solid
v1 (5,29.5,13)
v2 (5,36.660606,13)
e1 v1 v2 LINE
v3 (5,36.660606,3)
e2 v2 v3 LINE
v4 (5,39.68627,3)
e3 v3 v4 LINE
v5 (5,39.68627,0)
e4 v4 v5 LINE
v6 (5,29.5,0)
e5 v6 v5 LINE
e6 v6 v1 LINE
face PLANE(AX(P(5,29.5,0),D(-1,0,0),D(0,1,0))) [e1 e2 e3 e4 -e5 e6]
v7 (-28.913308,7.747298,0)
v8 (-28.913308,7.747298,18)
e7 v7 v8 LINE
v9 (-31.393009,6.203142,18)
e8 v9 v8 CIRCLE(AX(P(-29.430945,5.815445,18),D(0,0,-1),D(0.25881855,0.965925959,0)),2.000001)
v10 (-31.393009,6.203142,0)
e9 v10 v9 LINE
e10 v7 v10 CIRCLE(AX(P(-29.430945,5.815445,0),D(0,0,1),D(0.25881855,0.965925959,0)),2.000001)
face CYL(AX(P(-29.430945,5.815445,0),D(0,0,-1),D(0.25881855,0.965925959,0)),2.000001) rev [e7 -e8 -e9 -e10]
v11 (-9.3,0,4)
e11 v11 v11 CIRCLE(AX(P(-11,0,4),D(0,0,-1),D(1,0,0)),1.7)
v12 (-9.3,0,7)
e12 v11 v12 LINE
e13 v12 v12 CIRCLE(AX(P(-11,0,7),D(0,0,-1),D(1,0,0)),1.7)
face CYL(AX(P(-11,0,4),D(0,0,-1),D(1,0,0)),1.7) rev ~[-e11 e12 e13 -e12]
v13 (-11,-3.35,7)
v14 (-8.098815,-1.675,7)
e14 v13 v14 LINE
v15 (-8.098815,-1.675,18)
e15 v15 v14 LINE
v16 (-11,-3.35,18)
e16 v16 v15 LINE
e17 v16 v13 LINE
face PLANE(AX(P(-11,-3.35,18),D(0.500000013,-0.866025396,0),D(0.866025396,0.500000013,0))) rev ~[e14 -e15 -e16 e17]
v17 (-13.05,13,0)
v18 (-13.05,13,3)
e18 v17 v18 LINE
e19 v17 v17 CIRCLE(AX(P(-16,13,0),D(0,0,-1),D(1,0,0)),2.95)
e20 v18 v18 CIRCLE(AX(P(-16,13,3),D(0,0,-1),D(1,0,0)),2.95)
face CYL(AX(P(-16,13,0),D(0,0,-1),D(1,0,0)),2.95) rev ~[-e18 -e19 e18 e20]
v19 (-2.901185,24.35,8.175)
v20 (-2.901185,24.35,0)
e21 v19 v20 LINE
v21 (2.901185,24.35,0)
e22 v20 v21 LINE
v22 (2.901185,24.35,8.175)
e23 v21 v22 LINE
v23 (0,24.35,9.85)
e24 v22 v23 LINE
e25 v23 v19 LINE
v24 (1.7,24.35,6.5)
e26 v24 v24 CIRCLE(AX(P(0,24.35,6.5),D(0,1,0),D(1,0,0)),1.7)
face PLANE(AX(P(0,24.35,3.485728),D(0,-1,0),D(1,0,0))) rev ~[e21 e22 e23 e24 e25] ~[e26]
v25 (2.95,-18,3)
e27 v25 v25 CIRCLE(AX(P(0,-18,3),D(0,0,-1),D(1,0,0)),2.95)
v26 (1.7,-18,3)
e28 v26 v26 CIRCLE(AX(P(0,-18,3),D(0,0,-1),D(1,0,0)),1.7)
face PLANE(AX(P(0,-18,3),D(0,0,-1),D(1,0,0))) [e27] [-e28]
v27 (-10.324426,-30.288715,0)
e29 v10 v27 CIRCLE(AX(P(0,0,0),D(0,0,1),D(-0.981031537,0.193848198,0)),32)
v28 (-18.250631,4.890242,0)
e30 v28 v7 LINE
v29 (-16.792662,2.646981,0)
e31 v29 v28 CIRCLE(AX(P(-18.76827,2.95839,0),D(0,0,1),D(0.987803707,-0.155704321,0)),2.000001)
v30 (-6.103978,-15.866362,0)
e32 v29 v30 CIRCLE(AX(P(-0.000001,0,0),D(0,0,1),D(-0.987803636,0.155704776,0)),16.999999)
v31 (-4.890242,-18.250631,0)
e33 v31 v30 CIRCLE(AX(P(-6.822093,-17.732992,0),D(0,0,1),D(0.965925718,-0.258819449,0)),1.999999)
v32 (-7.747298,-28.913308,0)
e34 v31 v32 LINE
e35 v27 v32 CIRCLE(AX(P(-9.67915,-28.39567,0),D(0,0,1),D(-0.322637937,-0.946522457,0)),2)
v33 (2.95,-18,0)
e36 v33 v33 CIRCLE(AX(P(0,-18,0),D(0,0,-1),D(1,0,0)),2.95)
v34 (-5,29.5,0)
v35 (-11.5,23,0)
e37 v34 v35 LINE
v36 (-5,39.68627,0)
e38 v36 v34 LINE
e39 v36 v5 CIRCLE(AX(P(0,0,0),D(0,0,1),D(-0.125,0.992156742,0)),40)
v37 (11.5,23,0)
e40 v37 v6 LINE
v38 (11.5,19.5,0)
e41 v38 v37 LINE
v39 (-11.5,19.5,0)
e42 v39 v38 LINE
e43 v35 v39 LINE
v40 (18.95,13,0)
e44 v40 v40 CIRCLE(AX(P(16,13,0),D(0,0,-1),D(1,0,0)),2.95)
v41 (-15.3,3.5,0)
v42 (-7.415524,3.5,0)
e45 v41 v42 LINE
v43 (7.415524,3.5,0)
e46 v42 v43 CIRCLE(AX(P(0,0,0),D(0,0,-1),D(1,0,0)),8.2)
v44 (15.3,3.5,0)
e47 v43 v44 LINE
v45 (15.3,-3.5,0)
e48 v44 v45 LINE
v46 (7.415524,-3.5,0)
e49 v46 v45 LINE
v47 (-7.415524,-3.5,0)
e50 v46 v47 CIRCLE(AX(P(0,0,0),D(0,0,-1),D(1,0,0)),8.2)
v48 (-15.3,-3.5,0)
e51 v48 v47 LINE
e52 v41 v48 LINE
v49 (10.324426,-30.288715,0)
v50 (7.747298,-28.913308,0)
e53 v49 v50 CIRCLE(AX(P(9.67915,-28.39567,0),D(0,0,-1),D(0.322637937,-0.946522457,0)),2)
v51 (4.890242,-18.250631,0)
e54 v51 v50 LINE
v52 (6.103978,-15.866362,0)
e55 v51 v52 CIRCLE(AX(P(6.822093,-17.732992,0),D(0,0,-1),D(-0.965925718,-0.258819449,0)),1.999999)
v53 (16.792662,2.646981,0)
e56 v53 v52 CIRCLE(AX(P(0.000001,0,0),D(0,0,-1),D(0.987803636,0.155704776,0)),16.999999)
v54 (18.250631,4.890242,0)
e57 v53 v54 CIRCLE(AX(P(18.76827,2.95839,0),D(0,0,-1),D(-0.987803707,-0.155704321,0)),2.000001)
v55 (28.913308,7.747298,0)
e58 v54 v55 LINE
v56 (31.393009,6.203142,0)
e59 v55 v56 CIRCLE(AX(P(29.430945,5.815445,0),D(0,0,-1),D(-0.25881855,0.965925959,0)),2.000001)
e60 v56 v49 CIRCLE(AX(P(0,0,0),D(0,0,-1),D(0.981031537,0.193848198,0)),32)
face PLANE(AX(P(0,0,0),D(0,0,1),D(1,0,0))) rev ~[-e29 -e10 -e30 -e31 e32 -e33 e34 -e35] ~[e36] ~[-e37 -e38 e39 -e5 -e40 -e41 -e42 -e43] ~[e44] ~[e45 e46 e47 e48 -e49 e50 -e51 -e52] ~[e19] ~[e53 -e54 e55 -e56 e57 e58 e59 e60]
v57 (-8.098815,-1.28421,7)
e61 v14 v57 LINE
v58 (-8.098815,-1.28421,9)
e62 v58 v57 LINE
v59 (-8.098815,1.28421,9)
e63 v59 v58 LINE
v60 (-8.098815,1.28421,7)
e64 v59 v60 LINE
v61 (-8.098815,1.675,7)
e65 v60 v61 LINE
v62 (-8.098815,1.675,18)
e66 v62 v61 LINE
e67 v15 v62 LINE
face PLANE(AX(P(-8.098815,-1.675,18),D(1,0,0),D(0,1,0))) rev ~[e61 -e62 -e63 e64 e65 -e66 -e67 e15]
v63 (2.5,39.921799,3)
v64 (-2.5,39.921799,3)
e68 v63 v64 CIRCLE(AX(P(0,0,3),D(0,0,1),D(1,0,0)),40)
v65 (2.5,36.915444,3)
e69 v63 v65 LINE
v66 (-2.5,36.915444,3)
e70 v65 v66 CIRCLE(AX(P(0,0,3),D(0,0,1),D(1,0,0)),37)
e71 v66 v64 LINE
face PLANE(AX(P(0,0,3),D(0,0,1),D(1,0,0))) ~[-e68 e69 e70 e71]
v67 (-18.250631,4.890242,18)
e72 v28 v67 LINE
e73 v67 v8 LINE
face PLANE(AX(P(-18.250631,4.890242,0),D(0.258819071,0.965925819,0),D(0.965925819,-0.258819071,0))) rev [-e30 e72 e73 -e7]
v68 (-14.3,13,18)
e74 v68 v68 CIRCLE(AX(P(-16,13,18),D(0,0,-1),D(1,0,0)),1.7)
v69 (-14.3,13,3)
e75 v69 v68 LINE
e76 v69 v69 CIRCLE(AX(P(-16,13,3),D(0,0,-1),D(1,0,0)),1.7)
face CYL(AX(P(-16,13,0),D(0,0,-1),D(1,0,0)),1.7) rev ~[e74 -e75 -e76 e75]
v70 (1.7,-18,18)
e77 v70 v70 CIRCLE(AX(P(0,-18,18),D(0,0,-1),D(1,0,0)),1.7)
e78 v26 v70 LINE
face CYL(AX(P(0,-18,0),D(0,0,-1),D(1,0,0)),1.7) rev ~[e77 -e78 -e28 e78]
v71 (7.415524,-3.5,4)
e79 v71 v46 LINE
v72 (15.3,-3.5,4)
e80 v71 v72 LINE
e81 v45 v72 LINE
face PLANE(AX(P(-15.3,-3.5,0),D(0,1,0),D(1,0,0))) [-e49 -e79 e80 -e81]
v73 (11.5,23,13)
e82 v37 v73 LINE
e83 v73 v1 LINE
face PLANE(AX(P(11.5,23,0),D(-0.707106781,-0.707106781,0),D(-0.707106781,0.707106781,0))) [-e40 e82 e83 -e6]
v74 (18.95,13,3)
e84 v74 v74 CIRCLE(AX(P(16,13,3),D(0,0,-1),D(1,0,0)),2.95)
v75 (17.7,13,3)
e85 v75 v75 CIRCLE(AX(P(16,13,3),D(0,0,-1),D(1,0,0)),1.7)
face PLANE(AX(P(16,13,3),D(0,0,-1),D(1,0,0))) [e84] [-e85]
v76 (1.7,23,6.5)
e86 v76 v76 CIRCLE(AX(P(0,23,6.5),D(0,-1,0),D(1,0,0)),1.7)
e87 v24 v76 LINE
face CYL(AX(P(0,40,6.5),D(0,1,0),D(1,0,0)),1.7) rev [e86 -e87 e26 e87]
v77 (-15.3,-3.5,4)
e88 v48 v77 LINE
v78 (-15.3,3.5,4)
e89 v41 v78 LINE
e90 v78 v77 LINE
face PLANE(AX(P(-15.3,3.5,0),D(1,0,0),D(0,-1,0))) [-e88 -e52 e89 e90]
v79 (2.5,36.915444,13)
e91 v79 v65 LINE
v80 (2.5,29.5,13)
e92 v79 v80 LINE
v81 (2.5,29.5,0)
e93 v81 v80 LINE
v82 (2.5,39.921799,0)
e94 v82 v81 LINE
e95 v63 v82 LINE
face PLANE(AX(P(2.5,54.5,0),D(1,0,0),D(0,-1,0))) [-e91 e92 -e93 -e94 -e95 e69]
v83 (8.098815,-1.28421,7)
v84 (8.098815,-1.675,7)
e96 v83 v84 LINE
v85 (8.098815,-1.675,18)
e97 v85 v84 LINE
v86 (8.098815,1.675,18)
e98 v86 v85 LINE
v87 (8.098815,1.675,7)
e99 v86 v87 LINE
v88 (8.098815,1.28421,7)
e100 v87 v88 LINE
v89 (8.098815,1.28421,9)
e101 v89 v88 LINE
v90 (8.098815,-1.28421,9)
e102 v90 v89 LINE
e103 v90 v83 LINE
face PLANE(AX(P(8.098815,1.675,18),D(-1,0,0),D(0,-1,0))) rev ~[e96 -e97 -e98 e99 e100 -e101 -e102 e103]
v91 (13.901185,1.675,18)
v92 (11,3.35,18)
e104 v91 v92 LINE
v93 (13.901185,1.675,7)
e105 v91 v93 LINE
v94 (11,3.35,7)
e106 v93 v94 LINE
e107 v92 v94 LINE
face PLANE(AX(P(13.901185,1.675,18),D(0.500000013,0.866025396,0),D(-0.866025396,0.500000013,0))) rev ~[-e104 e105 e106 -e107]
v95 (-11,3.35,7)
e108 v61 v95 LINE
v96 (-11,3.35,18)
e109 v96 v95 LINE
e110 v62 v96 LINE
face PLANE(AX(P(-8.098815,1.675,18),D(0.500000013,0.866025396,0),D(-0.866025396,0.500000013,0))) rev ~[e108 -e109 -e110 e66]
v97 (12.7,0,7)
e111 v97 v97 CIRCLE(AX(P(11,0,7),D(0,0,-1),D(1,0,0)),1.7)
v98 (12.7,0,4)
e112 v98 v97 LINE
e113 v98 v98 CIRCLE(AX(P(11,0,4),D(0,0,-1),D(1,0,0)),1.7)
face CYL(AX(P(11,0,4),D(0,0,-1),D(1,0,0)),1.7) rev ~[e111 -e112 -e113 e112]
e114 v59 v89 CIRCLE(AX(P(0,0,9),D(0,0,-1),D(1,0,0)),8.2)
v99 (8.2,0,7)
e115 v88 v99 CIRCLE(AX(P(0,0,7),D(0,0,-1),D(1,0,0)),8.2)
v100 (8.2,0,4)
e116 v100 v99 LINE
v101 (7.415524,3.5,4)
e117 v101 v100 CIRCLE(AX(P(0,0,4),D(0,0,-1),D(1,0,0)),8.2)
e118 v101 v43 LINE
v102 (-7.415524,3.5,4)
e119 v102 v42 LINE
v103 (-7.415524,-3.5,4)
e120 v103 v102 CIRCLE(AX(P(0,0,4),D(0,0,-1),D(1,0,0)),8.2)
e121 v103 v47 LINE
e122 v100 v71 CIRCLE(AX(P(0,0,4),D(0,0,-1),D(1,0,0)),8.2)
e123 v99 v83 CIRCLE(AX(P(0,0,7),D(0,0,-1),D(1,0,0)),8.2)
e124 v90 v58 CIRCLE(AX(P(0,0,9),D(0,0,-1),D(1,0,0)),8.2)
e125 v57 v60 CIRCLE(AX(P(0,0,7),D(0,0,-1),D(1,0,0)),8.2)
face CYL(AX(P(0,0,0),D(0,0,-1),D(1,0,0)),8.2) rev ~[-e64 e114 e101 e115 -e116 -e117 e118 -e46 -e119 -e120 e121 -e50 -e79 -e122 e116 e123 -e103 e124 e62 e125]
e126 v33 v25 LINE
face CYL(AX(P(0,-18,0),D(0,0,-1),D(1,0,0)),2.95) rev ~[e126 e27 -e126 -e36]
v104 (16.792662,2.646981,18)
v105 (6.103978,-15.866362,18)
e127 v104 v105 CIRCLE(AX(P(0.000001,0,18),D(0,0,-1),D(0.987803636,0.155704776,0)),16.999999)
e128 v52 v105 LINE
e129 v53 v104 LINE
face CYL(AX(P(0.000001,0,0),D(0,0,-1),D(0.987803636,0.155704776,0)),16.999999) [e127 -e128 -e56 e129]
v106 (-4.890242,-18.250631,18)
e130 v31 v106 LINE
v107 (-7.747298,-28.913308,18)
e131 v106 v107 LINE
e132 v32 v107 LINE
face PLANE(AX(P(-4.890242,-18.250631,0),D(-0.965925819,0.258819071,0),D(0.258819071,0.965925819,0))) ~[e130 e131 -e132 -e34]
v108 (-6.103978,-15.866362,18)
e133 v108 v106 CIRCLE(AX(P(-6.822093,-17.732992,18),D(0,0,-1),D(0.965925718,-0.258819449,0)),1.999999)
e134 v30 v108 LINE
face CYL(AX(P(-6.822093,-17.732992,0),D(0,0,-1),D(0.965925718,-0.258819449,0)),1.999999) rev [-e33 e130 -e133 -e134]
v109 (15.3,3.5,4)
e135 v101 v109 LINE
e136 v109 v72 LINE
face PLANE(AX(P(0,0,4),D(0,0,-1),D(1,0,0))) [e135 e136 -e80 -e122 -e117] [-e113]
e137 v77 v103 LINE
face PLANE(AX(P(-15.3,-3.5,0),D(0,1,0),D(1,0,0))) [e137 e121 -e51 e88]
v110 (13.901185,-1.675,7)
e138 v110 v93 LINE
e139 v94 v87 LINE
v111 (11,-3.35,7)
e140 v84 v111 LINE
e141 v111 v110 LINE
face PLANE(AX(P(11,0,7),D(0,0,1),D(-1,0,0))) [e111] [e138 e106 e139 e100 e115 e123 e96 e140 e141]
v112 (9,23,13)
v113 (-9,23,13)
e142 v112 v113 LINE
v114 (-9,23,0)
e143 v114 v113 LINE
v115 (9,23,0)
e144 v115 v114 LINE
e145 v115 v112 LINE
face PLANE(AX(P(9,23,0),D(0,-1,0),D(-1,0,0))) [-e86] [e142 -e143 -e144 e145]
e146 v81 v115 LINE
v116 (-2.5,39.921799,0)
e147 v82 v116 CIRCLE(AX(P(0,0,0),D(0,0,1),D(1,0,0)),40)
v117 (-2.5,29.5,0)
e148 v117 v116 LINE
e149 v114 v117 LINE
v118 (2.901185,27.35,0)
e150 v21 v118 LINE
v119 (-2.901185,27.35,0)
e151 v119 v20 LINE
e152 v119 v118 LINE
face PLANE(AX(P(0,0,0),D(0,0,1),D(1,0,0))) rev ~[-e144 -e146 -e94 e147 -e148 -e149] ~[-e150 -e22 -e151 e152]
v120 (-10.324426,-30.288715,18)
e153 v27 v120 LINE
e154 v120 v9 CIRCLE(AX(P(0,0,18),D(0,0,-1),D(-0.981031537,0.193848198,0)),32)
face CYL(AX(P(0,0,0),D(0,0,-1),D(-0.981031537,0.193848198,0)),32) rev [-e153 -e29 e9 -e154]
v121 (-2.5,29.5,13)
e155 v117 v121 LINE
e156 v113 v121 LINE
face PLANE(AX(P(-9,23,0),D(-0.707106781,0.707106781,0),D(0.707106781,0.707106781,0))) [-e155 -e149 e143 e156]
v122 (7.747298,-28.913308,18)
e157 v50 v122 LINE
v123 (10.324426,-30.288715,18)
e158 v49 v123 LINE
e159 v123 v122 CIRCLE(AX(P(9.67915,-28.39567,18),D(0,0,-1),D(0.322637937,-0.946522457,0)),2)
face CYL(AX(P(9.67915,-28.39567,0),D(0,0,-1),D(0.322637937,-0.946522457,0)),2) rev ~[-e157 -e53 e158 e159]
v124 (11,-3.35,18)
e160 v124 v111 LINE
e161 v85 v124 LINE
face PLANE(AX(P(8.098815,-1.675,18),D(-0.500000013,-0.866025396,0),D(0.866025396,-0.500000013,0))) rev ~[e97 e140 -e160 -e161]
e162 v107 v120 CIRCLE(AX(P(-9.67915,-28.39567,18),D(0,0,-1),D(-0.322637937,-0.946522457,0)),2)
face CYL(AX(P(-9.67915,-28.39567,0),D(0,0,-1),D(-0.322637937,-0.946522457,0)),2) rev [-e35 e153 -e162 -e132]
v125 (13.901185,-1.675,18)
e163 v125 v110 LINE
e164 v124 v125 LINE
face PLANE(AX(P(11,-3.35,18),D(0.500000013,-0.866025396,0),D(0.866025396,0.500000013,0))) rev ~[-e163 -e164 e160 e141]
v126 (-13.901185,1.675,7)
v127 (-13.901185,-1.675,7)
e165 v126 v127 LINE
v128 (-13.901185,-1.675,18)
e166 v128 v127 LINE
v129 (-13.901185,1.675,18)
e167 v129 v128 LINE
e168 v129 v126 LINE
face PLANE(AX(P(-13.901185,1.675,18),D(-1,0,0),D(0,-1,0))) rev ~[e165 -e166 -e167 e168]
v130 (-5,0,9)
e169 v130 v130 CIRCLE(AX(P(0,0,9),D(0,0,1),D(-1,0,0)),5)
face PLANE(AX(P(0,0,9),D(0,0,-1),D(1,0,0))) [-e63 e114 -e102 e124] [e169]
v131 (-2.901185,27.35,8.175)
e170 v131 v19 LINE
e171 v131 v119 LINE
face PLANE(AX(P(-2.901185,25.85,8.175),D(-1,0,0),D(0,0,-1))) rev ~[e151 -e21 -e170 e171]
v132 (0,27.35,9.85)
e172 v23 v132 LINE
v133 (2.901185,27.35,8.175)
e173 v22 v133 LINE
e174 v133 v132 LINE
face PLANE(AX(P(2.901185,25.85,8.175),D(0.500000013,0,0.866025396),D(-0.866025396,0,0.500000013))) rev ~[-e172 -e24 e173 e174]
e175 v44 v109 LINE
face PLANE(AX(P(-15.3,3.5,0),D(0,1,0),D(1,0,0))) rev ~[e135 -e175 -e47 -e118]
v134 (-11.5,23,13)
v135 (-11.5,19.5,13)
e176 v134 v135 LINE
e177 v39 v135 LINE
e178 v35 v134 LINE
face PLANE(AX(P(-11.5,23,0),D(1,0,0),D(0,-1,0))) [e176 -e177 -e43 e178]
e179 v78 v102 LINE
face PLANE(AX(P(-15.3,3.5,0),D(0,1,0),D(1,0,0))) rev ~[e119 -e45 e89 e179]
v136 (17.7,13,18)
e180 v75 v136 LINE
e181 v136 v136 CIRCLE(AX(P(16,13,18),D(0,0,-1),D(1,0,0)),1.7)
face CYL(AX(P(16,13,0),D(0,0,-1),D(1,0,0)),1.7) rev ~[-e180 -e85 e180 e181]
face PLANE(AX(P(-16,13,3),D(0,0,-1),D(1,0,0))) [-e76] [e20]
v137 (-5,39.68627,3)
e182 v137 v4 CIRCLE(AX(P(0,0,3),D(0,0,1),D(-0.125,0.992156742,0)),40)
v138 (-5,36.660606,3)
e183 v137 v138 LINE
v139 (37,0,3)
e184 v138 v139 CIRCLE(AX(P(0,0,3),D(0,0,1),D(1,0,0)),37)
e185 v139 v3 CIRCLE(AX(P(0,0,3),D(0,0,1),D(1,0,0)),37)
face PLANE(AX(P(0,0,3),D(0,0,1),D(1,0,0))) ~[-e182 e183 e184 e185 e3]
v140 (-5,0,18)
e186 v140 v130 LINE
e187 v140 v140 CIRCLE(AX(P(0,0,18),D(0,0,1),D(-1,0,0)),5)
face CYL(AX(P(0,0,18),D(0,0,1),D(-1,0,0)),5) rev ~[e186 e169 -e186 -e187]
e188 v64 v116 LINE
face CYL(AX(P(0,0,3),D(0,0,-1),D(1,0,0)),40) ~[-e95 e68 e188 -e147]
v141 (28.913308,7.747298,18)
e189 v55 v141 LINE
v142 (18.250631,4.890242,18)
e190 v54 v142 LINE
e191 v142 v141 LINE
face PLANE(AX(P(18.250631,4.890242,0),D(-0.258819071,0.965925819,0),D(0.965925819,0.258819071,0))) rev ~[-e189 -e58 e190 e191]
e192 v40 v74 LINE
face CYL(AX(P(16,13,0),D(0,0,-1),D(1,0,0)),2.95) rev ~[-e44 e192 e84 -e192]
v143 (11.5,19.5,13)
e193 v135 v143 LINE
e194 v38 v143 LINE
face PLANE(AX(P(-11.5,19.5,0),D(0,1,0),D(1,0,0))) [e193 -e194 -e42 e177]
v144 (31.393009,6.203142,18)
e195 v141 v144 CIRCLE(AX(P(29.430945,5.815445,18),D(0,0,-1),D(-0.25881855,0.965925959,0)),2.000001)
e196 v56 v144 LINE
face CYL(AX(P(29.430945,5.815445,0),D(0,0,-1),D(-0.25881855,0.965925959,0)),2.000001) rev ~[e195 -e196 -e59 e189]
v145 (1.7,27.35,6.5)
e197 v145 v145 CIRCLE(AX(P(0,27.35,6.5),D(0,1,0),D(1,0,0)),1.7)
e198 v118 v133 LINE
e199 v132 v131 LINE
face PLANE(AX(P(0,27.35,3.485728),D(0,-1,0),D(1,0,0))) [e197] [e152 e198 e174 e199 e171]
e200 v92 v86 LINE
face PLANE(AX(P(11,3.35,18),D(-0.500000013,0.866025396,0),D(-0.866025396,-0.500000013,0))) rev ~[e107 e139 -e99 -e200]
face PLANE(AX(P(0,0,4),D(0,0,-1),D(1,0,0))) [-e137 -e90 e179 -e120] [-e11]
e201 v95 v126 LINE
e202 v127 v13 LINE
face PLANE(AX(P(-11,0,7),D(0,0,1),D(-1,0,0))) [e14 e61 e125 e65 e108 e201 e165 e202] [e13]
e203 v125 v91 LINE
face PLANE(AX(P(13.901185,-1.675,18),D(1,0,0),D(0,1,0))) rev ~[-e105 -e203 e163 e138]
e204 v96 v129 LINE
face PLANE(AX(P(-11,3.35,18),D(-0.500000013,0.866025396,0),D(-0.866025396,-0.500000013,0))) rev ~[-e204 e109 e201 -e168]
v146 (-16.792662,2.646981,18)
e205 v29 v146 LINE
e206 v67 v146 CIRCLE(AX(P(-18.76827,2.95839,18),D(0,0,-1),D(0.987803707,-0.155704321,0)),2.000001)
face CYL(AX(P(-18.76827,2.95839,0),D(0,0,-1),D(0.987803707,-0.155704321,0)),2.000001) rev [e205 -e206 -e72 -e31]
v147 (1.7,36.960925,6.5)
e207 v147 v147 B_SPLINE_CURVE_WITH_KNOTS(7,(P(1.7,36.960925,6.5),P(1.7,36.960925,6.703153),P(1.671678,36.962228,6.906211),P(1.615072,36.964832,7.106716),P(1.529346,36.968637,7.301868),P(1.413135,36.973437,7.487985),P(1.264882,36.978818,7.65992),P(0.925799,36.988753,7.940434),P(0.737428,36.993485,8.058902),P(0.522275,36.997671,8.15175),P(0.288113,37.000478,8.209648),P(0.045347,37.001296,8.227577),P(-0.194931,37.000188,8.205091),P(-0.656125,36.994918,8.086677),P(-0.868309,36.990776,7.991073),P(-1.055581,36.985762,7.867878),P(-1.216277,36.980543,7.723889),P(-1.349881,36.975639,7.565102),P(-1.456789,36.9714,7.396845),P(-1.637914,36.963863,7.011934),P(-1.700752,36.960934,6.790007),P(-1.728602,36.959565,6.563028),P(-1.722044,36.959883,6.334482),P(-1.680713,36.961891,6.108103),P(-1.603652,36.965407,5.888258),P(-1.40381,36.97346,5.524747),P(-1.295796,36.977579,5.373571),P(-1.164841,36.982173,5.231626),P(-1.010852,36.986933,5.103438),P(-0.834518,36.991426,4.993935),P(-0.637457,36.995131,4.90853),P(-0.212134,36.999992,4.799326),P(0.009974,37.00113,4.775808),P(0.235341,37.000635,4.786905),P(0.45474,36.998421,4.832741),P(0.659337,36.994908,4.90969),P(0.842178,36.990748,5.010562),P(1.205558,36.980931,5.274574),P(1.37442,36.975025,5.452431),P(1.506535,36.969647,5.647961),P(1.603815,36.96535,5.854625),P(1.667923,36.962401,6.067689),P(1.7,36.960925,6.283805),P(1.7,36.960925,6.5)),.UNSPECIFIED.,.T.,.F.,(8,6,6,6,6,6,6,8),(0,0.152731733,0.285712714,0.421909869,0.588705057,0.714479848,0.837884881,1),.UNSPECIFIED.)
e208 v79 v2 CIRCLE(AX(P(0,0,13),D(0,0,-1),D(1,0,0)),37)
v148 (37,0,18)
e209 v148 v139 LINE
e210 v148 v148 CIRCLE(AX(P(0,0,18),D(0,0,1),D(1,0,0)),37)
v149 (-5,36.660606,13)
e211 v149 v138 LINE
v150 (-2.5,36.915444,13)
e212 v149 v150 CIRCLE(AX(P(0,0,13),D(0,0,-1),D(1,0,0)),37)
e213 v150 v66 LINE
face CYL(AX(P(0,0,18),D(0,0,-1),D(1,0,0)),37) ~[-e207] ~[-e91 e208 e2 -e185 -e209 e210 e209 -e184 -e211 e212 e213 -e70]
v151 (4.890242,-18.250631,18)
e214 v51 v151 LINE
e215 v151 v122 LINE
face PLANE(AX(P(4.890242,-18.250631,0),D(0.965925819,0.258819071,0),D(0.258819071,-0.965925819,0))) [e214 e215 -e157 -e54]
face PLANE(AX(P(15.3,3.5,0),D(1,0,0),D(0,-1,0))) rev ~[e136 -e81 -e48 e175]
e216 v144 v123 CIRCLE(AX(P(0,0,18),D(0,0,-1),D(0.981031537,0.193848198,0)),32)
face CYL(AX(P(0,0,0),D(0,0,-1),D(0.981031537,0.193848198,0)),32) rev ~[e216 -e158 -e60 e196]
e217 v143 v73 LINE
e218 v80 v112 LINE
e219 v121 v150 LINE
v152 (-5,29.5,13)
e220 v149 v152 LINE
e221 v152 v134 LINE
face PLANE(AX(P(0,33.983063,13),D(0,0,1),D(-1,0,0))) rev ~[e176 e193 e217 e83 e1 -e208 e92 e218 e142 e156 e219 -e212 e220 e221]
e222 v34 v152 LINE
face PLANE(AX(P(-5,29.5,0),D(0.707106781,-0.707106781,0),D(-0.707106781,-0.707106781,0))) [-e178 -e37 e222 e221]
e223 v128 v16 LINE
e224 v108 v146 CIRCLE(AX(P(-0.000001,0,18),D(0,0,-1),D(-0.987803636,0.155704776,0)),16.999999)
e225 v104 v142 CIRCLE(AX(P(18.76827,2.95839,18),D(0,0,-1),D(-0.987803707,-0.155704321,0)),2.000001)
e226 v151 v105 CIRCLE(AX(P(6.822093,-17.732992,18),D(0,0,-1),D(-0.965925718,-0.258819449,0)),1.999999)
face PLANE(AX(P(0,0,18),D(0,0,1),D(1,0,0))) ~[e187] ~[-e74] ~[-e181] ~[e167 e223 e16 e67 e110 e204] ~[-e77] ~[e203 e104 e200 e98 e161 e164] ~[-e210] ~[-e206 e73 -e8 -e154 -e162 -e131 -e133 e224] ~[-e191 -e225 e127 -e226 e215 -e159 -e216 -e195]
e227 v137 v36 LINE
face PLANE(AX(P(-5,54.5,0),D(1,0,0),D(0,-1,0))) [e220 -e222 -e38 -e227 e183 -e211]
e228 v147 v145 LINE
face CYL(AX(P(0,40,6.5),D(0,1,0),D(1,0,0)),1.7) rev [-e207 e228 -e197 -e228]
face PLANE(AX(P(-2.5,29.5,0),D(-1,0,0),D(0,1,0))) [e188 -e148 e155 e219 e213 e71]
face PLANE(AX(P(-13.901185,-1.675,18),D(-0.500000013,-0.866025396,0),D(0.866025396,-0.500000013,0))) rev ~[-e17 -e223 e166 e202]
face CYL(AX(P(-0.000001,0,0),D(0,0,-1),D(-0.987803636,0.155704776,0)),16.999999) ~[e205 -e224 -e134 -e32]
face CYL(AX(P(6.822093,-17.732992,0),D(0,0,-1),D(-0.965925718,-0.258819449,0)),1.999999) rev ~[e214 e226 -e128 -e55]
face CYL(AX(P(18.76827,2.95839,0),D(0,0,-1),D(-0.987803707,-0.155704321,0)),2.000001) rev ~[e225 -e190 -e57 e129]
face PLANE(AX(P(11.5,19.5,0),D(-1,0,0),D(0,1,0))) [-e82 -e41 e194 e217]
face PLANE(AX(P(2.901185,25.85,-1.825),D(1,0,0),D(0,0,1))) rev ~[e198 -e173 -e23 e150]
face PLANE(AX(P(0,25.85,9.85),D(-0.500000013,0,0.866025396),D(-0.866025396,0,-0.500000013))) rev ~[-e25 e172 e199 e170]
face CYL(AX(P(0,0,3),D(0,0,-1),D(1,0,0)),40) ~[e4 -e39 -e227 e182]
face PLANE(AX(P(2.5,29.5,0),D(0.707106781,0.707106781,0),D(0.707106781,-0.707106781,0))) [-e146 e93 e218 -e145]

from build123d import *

# Parameters (mm, degrees)
POCKET_DEPTH    = 13
SKETCH002_R     = 1.7
POCKET001_DEPTH = 17
POCKET002_DEPTH = 1.5
SKETCH004_R     = 5
POCKET003_DEPTH = 18.001
SKETCH005_R     = 8.2
POCKET004_DEPTH = 9
SKETCH006_W     = 30.6
SKETCH006_H     = 7
POCKET005_DEPTH = 4
SKETCH007_R     = 1.7
POCKET006_DEPTH = 14.001
POCKET007_DEPTH = 11
POCKET008_DEPTH = 247.121056
SKETCH010_R     = 1.7
POCKET009_DEPTH = 18.001
SKETCH011_R     = 2.95
POCKET010_DEPTH = 3


with BuildPart() as part:
    # Sketch → Revolution (revolve)
    with BuildSketch(Plane.XZ):
        Polygon((0, 18), (37, 18), (37, 3), (40, 3), (40, 0), (0, 0), align=None)
    revolve(axis=Axis((0, 0, 0), (0, 0, 1)))

    # Sketch001 (on Face5 of Revolution) → Pocket (cut)
    with BuildSketch(Plane(origin=(0, 0, 0), x_dir=(1, 0, 0), z_dir=(0, 0, -1))):
        Polygon((-11.5, -19.5), (11.5, -19.5), (11.5, -23), (5, -29.5), (5, -54.5), (2.5, -54.5), (2.5, -29.5), (9, -23), (-9, -23), (-2.5, -29.5), (-2.5, -54.5), (-5, -54.5), (-5, -29.5), (-11.5, -23), align=None)
    extrude(amount=-POCKET_DEPTH, mode=Mode.SUBTRACT)

    # Sketch002 (on DatumPlane) → Pocket001 (cut)
    with BuildSketch(Plane.XZ.offset(-40)):
        with Locations((0, 6.5)):
            Circle(SKETCH002_R)
    extrude(amount=POCKET001_DEPTH, mode=Mode.SUBTRACT)

    # Sketch003 (on DatumPlane) → Pocket002 (cut, symmetric)
    with BuildSketch(Plane.XZ.offset(-25.85)):
        Polygon((0, 9.85), (-2.901185, 8.175), (-2.901185, -1.825), (2.901185, -1.825), (2.901185, 8.175), align=None)
    extrude(amount=POCKET002_DEPTH, both=True, mode=Mode.SUBTRACT)

    # Sketch004 (on Face1 of Pocket002) → Pocket003 (cut, through all)
    with BuildSketch(Plane(origin=(0, 0, 18), x_dir=(-1, 0, 0), z_dir=(0, 0, 1))):
        Circle(SKETCH004_R)
    extrude(amount=-POCKET003_DEPTH, mode=Mode.SUBTRACT)

    # Sketch005 (on Face12 of Pocket003) → Pocket004 (cut)
    with BuildSketch(Plane(origin=(0, 0, 0), x_dir=(1, 0, 0), z_dir=(0, 0, -1))):
        Circle(SKETCH005_R)
    extrude(amount=-POCKET004_DEPTH, mode=Mode.SUBTRACT)

    # Sketch006 (on Face14 of Pocket004) → Pocket005 (cut)
    with BuildSketch(Plane(origin=(0, 0, 0), x_dir=(1, 0, 0), z_dir=(0, 0, -1))):
        Rectangle(SKETCH006_W, SKETCH006_H)
    extrude(amount=-POCKET005_DEPTH, mode=Mode.SUBTRACT)

    # Sketch007 (on Face39 of Pocket005) → Pocket006 (cut, through all)
    with BuildSketch(Plane(origin=(0, 0, 4), x_dir=(1, 0, 0), z_dir=(0, 0, -1))):
        with Locations((-11, 0)):
            Circle(SKETCH007_R)
        with Locations((11, 0)):
            Circle(SKETCH007_R)
    extrude(amount=-POCKET006_DEPTH, mode=Mode.SUBTRACT)

    # Sketch008 (on Face1 of Pocket006) → Pocket007 (cut)
    with BuildSketch(Plane(origin=(0, 0, 18), x_dir=(-1, 0, 0), z_dir=(0, 0, 1))):
        Polygon((11, 3.35), (8.098815, 1.675), (8.098815, -1.675), (11, -3.35), (13.901185, -1.675), (13.901185, 1.675), align=None)
        Polygon((-11, 3.35), (-13.901185, 1.675), (-13.901185, -1.675), (-11, -3.35), (-8.098815, -1.675), (-8.098815, 1.675), align=None)
    extrude(amount=-POCKET007_DEPTH, mode=Mode.SUBTRACT)

    # Sketch009 (on Face29 of Pocket007) → Pocket008 (cut, through all)
    with BuildSketch(Plane(origin=(0, 0, 0), x_dir=(1, 0, 0), z_dir=(0, 0, -1))):
        with BuildLine():
            ThreePointArc((16.792662, -2.646981), (14.722432, 8.5), (6.103978, 15.866362))
            ThreePointArc((4.890242, 18.250631), (5.039745, 16.82567), (6.103978, 15.866362))
            Line((4.890242, 18.250631), (7.747298, 28.913308))
            ThreePointArc((10.324426, 30.288715), (8.737473, 30.160109), (7.747298, 28.913308))
            ThreePointArc((31.393009, -6.203142), (27.712813, 16), (10.324426, 30.288715))
            ThreePointArc((28.913308, -7.747298), (30.488157, -7.513181), (31.393009, -6.203142))
            Line((18.250631, -4.890242), (28.913308, -7.747298))
            ThreePointArc((16.792662, -2.646981), (17.091331, -4.048288), (18.250631, -4.890242))
        make_face()
    pocket008 = extrude(amount=-POCKET008_DEPTH, mode=Mode.SUBTRACT)

    # Mirrored: Pocket008 across Sketch009 V_Axis
    add(pocket008.mirror(Plane(origin=(0, 0, 0), x_dir=(0, 0, -1), z_dir=(1, 0, 0))), mode=Mode.SUBTRACT)

    # Sketch010 (on Face43 of Mirrored) → Pocket009 (cut, through all)
    with BuildSketch(Plane(origin=(0, 0, 0), x_dir=(1, 0, 0), z_dir=(0, 0, -1))):
        with Locations((0, 18)):
            Circle(SKETCH010_R)
        with Locations((-16, -13)):
            Circle(SKETCH010_R)
        with Locations((16, -13)):
            Circle(SKETCH010_R)
    extrude(amount=-POCKET009_DEPTH, mode=Mode.SUBTRACT)

    # Sketch011 (on Face43 of Pocket009) → Pocket010 (cut)
    with BuildSketch(Plane(origin=(0, 0, 0), x_dir=(1, 0, 0), z_dir=(0, 0, -1))):
        with Locations((0, 18)):
            Circle(SKETCH011_R)
        with Locations((16, -13)):
            Circle(SKETCH011_R)
        with Locations((-16, -13)):
            Circle(SKETCH011_R)
    extrude(amount=-POCKET010_DEPTH, mode=Mode.SUBTRACT)


solid = part.part
